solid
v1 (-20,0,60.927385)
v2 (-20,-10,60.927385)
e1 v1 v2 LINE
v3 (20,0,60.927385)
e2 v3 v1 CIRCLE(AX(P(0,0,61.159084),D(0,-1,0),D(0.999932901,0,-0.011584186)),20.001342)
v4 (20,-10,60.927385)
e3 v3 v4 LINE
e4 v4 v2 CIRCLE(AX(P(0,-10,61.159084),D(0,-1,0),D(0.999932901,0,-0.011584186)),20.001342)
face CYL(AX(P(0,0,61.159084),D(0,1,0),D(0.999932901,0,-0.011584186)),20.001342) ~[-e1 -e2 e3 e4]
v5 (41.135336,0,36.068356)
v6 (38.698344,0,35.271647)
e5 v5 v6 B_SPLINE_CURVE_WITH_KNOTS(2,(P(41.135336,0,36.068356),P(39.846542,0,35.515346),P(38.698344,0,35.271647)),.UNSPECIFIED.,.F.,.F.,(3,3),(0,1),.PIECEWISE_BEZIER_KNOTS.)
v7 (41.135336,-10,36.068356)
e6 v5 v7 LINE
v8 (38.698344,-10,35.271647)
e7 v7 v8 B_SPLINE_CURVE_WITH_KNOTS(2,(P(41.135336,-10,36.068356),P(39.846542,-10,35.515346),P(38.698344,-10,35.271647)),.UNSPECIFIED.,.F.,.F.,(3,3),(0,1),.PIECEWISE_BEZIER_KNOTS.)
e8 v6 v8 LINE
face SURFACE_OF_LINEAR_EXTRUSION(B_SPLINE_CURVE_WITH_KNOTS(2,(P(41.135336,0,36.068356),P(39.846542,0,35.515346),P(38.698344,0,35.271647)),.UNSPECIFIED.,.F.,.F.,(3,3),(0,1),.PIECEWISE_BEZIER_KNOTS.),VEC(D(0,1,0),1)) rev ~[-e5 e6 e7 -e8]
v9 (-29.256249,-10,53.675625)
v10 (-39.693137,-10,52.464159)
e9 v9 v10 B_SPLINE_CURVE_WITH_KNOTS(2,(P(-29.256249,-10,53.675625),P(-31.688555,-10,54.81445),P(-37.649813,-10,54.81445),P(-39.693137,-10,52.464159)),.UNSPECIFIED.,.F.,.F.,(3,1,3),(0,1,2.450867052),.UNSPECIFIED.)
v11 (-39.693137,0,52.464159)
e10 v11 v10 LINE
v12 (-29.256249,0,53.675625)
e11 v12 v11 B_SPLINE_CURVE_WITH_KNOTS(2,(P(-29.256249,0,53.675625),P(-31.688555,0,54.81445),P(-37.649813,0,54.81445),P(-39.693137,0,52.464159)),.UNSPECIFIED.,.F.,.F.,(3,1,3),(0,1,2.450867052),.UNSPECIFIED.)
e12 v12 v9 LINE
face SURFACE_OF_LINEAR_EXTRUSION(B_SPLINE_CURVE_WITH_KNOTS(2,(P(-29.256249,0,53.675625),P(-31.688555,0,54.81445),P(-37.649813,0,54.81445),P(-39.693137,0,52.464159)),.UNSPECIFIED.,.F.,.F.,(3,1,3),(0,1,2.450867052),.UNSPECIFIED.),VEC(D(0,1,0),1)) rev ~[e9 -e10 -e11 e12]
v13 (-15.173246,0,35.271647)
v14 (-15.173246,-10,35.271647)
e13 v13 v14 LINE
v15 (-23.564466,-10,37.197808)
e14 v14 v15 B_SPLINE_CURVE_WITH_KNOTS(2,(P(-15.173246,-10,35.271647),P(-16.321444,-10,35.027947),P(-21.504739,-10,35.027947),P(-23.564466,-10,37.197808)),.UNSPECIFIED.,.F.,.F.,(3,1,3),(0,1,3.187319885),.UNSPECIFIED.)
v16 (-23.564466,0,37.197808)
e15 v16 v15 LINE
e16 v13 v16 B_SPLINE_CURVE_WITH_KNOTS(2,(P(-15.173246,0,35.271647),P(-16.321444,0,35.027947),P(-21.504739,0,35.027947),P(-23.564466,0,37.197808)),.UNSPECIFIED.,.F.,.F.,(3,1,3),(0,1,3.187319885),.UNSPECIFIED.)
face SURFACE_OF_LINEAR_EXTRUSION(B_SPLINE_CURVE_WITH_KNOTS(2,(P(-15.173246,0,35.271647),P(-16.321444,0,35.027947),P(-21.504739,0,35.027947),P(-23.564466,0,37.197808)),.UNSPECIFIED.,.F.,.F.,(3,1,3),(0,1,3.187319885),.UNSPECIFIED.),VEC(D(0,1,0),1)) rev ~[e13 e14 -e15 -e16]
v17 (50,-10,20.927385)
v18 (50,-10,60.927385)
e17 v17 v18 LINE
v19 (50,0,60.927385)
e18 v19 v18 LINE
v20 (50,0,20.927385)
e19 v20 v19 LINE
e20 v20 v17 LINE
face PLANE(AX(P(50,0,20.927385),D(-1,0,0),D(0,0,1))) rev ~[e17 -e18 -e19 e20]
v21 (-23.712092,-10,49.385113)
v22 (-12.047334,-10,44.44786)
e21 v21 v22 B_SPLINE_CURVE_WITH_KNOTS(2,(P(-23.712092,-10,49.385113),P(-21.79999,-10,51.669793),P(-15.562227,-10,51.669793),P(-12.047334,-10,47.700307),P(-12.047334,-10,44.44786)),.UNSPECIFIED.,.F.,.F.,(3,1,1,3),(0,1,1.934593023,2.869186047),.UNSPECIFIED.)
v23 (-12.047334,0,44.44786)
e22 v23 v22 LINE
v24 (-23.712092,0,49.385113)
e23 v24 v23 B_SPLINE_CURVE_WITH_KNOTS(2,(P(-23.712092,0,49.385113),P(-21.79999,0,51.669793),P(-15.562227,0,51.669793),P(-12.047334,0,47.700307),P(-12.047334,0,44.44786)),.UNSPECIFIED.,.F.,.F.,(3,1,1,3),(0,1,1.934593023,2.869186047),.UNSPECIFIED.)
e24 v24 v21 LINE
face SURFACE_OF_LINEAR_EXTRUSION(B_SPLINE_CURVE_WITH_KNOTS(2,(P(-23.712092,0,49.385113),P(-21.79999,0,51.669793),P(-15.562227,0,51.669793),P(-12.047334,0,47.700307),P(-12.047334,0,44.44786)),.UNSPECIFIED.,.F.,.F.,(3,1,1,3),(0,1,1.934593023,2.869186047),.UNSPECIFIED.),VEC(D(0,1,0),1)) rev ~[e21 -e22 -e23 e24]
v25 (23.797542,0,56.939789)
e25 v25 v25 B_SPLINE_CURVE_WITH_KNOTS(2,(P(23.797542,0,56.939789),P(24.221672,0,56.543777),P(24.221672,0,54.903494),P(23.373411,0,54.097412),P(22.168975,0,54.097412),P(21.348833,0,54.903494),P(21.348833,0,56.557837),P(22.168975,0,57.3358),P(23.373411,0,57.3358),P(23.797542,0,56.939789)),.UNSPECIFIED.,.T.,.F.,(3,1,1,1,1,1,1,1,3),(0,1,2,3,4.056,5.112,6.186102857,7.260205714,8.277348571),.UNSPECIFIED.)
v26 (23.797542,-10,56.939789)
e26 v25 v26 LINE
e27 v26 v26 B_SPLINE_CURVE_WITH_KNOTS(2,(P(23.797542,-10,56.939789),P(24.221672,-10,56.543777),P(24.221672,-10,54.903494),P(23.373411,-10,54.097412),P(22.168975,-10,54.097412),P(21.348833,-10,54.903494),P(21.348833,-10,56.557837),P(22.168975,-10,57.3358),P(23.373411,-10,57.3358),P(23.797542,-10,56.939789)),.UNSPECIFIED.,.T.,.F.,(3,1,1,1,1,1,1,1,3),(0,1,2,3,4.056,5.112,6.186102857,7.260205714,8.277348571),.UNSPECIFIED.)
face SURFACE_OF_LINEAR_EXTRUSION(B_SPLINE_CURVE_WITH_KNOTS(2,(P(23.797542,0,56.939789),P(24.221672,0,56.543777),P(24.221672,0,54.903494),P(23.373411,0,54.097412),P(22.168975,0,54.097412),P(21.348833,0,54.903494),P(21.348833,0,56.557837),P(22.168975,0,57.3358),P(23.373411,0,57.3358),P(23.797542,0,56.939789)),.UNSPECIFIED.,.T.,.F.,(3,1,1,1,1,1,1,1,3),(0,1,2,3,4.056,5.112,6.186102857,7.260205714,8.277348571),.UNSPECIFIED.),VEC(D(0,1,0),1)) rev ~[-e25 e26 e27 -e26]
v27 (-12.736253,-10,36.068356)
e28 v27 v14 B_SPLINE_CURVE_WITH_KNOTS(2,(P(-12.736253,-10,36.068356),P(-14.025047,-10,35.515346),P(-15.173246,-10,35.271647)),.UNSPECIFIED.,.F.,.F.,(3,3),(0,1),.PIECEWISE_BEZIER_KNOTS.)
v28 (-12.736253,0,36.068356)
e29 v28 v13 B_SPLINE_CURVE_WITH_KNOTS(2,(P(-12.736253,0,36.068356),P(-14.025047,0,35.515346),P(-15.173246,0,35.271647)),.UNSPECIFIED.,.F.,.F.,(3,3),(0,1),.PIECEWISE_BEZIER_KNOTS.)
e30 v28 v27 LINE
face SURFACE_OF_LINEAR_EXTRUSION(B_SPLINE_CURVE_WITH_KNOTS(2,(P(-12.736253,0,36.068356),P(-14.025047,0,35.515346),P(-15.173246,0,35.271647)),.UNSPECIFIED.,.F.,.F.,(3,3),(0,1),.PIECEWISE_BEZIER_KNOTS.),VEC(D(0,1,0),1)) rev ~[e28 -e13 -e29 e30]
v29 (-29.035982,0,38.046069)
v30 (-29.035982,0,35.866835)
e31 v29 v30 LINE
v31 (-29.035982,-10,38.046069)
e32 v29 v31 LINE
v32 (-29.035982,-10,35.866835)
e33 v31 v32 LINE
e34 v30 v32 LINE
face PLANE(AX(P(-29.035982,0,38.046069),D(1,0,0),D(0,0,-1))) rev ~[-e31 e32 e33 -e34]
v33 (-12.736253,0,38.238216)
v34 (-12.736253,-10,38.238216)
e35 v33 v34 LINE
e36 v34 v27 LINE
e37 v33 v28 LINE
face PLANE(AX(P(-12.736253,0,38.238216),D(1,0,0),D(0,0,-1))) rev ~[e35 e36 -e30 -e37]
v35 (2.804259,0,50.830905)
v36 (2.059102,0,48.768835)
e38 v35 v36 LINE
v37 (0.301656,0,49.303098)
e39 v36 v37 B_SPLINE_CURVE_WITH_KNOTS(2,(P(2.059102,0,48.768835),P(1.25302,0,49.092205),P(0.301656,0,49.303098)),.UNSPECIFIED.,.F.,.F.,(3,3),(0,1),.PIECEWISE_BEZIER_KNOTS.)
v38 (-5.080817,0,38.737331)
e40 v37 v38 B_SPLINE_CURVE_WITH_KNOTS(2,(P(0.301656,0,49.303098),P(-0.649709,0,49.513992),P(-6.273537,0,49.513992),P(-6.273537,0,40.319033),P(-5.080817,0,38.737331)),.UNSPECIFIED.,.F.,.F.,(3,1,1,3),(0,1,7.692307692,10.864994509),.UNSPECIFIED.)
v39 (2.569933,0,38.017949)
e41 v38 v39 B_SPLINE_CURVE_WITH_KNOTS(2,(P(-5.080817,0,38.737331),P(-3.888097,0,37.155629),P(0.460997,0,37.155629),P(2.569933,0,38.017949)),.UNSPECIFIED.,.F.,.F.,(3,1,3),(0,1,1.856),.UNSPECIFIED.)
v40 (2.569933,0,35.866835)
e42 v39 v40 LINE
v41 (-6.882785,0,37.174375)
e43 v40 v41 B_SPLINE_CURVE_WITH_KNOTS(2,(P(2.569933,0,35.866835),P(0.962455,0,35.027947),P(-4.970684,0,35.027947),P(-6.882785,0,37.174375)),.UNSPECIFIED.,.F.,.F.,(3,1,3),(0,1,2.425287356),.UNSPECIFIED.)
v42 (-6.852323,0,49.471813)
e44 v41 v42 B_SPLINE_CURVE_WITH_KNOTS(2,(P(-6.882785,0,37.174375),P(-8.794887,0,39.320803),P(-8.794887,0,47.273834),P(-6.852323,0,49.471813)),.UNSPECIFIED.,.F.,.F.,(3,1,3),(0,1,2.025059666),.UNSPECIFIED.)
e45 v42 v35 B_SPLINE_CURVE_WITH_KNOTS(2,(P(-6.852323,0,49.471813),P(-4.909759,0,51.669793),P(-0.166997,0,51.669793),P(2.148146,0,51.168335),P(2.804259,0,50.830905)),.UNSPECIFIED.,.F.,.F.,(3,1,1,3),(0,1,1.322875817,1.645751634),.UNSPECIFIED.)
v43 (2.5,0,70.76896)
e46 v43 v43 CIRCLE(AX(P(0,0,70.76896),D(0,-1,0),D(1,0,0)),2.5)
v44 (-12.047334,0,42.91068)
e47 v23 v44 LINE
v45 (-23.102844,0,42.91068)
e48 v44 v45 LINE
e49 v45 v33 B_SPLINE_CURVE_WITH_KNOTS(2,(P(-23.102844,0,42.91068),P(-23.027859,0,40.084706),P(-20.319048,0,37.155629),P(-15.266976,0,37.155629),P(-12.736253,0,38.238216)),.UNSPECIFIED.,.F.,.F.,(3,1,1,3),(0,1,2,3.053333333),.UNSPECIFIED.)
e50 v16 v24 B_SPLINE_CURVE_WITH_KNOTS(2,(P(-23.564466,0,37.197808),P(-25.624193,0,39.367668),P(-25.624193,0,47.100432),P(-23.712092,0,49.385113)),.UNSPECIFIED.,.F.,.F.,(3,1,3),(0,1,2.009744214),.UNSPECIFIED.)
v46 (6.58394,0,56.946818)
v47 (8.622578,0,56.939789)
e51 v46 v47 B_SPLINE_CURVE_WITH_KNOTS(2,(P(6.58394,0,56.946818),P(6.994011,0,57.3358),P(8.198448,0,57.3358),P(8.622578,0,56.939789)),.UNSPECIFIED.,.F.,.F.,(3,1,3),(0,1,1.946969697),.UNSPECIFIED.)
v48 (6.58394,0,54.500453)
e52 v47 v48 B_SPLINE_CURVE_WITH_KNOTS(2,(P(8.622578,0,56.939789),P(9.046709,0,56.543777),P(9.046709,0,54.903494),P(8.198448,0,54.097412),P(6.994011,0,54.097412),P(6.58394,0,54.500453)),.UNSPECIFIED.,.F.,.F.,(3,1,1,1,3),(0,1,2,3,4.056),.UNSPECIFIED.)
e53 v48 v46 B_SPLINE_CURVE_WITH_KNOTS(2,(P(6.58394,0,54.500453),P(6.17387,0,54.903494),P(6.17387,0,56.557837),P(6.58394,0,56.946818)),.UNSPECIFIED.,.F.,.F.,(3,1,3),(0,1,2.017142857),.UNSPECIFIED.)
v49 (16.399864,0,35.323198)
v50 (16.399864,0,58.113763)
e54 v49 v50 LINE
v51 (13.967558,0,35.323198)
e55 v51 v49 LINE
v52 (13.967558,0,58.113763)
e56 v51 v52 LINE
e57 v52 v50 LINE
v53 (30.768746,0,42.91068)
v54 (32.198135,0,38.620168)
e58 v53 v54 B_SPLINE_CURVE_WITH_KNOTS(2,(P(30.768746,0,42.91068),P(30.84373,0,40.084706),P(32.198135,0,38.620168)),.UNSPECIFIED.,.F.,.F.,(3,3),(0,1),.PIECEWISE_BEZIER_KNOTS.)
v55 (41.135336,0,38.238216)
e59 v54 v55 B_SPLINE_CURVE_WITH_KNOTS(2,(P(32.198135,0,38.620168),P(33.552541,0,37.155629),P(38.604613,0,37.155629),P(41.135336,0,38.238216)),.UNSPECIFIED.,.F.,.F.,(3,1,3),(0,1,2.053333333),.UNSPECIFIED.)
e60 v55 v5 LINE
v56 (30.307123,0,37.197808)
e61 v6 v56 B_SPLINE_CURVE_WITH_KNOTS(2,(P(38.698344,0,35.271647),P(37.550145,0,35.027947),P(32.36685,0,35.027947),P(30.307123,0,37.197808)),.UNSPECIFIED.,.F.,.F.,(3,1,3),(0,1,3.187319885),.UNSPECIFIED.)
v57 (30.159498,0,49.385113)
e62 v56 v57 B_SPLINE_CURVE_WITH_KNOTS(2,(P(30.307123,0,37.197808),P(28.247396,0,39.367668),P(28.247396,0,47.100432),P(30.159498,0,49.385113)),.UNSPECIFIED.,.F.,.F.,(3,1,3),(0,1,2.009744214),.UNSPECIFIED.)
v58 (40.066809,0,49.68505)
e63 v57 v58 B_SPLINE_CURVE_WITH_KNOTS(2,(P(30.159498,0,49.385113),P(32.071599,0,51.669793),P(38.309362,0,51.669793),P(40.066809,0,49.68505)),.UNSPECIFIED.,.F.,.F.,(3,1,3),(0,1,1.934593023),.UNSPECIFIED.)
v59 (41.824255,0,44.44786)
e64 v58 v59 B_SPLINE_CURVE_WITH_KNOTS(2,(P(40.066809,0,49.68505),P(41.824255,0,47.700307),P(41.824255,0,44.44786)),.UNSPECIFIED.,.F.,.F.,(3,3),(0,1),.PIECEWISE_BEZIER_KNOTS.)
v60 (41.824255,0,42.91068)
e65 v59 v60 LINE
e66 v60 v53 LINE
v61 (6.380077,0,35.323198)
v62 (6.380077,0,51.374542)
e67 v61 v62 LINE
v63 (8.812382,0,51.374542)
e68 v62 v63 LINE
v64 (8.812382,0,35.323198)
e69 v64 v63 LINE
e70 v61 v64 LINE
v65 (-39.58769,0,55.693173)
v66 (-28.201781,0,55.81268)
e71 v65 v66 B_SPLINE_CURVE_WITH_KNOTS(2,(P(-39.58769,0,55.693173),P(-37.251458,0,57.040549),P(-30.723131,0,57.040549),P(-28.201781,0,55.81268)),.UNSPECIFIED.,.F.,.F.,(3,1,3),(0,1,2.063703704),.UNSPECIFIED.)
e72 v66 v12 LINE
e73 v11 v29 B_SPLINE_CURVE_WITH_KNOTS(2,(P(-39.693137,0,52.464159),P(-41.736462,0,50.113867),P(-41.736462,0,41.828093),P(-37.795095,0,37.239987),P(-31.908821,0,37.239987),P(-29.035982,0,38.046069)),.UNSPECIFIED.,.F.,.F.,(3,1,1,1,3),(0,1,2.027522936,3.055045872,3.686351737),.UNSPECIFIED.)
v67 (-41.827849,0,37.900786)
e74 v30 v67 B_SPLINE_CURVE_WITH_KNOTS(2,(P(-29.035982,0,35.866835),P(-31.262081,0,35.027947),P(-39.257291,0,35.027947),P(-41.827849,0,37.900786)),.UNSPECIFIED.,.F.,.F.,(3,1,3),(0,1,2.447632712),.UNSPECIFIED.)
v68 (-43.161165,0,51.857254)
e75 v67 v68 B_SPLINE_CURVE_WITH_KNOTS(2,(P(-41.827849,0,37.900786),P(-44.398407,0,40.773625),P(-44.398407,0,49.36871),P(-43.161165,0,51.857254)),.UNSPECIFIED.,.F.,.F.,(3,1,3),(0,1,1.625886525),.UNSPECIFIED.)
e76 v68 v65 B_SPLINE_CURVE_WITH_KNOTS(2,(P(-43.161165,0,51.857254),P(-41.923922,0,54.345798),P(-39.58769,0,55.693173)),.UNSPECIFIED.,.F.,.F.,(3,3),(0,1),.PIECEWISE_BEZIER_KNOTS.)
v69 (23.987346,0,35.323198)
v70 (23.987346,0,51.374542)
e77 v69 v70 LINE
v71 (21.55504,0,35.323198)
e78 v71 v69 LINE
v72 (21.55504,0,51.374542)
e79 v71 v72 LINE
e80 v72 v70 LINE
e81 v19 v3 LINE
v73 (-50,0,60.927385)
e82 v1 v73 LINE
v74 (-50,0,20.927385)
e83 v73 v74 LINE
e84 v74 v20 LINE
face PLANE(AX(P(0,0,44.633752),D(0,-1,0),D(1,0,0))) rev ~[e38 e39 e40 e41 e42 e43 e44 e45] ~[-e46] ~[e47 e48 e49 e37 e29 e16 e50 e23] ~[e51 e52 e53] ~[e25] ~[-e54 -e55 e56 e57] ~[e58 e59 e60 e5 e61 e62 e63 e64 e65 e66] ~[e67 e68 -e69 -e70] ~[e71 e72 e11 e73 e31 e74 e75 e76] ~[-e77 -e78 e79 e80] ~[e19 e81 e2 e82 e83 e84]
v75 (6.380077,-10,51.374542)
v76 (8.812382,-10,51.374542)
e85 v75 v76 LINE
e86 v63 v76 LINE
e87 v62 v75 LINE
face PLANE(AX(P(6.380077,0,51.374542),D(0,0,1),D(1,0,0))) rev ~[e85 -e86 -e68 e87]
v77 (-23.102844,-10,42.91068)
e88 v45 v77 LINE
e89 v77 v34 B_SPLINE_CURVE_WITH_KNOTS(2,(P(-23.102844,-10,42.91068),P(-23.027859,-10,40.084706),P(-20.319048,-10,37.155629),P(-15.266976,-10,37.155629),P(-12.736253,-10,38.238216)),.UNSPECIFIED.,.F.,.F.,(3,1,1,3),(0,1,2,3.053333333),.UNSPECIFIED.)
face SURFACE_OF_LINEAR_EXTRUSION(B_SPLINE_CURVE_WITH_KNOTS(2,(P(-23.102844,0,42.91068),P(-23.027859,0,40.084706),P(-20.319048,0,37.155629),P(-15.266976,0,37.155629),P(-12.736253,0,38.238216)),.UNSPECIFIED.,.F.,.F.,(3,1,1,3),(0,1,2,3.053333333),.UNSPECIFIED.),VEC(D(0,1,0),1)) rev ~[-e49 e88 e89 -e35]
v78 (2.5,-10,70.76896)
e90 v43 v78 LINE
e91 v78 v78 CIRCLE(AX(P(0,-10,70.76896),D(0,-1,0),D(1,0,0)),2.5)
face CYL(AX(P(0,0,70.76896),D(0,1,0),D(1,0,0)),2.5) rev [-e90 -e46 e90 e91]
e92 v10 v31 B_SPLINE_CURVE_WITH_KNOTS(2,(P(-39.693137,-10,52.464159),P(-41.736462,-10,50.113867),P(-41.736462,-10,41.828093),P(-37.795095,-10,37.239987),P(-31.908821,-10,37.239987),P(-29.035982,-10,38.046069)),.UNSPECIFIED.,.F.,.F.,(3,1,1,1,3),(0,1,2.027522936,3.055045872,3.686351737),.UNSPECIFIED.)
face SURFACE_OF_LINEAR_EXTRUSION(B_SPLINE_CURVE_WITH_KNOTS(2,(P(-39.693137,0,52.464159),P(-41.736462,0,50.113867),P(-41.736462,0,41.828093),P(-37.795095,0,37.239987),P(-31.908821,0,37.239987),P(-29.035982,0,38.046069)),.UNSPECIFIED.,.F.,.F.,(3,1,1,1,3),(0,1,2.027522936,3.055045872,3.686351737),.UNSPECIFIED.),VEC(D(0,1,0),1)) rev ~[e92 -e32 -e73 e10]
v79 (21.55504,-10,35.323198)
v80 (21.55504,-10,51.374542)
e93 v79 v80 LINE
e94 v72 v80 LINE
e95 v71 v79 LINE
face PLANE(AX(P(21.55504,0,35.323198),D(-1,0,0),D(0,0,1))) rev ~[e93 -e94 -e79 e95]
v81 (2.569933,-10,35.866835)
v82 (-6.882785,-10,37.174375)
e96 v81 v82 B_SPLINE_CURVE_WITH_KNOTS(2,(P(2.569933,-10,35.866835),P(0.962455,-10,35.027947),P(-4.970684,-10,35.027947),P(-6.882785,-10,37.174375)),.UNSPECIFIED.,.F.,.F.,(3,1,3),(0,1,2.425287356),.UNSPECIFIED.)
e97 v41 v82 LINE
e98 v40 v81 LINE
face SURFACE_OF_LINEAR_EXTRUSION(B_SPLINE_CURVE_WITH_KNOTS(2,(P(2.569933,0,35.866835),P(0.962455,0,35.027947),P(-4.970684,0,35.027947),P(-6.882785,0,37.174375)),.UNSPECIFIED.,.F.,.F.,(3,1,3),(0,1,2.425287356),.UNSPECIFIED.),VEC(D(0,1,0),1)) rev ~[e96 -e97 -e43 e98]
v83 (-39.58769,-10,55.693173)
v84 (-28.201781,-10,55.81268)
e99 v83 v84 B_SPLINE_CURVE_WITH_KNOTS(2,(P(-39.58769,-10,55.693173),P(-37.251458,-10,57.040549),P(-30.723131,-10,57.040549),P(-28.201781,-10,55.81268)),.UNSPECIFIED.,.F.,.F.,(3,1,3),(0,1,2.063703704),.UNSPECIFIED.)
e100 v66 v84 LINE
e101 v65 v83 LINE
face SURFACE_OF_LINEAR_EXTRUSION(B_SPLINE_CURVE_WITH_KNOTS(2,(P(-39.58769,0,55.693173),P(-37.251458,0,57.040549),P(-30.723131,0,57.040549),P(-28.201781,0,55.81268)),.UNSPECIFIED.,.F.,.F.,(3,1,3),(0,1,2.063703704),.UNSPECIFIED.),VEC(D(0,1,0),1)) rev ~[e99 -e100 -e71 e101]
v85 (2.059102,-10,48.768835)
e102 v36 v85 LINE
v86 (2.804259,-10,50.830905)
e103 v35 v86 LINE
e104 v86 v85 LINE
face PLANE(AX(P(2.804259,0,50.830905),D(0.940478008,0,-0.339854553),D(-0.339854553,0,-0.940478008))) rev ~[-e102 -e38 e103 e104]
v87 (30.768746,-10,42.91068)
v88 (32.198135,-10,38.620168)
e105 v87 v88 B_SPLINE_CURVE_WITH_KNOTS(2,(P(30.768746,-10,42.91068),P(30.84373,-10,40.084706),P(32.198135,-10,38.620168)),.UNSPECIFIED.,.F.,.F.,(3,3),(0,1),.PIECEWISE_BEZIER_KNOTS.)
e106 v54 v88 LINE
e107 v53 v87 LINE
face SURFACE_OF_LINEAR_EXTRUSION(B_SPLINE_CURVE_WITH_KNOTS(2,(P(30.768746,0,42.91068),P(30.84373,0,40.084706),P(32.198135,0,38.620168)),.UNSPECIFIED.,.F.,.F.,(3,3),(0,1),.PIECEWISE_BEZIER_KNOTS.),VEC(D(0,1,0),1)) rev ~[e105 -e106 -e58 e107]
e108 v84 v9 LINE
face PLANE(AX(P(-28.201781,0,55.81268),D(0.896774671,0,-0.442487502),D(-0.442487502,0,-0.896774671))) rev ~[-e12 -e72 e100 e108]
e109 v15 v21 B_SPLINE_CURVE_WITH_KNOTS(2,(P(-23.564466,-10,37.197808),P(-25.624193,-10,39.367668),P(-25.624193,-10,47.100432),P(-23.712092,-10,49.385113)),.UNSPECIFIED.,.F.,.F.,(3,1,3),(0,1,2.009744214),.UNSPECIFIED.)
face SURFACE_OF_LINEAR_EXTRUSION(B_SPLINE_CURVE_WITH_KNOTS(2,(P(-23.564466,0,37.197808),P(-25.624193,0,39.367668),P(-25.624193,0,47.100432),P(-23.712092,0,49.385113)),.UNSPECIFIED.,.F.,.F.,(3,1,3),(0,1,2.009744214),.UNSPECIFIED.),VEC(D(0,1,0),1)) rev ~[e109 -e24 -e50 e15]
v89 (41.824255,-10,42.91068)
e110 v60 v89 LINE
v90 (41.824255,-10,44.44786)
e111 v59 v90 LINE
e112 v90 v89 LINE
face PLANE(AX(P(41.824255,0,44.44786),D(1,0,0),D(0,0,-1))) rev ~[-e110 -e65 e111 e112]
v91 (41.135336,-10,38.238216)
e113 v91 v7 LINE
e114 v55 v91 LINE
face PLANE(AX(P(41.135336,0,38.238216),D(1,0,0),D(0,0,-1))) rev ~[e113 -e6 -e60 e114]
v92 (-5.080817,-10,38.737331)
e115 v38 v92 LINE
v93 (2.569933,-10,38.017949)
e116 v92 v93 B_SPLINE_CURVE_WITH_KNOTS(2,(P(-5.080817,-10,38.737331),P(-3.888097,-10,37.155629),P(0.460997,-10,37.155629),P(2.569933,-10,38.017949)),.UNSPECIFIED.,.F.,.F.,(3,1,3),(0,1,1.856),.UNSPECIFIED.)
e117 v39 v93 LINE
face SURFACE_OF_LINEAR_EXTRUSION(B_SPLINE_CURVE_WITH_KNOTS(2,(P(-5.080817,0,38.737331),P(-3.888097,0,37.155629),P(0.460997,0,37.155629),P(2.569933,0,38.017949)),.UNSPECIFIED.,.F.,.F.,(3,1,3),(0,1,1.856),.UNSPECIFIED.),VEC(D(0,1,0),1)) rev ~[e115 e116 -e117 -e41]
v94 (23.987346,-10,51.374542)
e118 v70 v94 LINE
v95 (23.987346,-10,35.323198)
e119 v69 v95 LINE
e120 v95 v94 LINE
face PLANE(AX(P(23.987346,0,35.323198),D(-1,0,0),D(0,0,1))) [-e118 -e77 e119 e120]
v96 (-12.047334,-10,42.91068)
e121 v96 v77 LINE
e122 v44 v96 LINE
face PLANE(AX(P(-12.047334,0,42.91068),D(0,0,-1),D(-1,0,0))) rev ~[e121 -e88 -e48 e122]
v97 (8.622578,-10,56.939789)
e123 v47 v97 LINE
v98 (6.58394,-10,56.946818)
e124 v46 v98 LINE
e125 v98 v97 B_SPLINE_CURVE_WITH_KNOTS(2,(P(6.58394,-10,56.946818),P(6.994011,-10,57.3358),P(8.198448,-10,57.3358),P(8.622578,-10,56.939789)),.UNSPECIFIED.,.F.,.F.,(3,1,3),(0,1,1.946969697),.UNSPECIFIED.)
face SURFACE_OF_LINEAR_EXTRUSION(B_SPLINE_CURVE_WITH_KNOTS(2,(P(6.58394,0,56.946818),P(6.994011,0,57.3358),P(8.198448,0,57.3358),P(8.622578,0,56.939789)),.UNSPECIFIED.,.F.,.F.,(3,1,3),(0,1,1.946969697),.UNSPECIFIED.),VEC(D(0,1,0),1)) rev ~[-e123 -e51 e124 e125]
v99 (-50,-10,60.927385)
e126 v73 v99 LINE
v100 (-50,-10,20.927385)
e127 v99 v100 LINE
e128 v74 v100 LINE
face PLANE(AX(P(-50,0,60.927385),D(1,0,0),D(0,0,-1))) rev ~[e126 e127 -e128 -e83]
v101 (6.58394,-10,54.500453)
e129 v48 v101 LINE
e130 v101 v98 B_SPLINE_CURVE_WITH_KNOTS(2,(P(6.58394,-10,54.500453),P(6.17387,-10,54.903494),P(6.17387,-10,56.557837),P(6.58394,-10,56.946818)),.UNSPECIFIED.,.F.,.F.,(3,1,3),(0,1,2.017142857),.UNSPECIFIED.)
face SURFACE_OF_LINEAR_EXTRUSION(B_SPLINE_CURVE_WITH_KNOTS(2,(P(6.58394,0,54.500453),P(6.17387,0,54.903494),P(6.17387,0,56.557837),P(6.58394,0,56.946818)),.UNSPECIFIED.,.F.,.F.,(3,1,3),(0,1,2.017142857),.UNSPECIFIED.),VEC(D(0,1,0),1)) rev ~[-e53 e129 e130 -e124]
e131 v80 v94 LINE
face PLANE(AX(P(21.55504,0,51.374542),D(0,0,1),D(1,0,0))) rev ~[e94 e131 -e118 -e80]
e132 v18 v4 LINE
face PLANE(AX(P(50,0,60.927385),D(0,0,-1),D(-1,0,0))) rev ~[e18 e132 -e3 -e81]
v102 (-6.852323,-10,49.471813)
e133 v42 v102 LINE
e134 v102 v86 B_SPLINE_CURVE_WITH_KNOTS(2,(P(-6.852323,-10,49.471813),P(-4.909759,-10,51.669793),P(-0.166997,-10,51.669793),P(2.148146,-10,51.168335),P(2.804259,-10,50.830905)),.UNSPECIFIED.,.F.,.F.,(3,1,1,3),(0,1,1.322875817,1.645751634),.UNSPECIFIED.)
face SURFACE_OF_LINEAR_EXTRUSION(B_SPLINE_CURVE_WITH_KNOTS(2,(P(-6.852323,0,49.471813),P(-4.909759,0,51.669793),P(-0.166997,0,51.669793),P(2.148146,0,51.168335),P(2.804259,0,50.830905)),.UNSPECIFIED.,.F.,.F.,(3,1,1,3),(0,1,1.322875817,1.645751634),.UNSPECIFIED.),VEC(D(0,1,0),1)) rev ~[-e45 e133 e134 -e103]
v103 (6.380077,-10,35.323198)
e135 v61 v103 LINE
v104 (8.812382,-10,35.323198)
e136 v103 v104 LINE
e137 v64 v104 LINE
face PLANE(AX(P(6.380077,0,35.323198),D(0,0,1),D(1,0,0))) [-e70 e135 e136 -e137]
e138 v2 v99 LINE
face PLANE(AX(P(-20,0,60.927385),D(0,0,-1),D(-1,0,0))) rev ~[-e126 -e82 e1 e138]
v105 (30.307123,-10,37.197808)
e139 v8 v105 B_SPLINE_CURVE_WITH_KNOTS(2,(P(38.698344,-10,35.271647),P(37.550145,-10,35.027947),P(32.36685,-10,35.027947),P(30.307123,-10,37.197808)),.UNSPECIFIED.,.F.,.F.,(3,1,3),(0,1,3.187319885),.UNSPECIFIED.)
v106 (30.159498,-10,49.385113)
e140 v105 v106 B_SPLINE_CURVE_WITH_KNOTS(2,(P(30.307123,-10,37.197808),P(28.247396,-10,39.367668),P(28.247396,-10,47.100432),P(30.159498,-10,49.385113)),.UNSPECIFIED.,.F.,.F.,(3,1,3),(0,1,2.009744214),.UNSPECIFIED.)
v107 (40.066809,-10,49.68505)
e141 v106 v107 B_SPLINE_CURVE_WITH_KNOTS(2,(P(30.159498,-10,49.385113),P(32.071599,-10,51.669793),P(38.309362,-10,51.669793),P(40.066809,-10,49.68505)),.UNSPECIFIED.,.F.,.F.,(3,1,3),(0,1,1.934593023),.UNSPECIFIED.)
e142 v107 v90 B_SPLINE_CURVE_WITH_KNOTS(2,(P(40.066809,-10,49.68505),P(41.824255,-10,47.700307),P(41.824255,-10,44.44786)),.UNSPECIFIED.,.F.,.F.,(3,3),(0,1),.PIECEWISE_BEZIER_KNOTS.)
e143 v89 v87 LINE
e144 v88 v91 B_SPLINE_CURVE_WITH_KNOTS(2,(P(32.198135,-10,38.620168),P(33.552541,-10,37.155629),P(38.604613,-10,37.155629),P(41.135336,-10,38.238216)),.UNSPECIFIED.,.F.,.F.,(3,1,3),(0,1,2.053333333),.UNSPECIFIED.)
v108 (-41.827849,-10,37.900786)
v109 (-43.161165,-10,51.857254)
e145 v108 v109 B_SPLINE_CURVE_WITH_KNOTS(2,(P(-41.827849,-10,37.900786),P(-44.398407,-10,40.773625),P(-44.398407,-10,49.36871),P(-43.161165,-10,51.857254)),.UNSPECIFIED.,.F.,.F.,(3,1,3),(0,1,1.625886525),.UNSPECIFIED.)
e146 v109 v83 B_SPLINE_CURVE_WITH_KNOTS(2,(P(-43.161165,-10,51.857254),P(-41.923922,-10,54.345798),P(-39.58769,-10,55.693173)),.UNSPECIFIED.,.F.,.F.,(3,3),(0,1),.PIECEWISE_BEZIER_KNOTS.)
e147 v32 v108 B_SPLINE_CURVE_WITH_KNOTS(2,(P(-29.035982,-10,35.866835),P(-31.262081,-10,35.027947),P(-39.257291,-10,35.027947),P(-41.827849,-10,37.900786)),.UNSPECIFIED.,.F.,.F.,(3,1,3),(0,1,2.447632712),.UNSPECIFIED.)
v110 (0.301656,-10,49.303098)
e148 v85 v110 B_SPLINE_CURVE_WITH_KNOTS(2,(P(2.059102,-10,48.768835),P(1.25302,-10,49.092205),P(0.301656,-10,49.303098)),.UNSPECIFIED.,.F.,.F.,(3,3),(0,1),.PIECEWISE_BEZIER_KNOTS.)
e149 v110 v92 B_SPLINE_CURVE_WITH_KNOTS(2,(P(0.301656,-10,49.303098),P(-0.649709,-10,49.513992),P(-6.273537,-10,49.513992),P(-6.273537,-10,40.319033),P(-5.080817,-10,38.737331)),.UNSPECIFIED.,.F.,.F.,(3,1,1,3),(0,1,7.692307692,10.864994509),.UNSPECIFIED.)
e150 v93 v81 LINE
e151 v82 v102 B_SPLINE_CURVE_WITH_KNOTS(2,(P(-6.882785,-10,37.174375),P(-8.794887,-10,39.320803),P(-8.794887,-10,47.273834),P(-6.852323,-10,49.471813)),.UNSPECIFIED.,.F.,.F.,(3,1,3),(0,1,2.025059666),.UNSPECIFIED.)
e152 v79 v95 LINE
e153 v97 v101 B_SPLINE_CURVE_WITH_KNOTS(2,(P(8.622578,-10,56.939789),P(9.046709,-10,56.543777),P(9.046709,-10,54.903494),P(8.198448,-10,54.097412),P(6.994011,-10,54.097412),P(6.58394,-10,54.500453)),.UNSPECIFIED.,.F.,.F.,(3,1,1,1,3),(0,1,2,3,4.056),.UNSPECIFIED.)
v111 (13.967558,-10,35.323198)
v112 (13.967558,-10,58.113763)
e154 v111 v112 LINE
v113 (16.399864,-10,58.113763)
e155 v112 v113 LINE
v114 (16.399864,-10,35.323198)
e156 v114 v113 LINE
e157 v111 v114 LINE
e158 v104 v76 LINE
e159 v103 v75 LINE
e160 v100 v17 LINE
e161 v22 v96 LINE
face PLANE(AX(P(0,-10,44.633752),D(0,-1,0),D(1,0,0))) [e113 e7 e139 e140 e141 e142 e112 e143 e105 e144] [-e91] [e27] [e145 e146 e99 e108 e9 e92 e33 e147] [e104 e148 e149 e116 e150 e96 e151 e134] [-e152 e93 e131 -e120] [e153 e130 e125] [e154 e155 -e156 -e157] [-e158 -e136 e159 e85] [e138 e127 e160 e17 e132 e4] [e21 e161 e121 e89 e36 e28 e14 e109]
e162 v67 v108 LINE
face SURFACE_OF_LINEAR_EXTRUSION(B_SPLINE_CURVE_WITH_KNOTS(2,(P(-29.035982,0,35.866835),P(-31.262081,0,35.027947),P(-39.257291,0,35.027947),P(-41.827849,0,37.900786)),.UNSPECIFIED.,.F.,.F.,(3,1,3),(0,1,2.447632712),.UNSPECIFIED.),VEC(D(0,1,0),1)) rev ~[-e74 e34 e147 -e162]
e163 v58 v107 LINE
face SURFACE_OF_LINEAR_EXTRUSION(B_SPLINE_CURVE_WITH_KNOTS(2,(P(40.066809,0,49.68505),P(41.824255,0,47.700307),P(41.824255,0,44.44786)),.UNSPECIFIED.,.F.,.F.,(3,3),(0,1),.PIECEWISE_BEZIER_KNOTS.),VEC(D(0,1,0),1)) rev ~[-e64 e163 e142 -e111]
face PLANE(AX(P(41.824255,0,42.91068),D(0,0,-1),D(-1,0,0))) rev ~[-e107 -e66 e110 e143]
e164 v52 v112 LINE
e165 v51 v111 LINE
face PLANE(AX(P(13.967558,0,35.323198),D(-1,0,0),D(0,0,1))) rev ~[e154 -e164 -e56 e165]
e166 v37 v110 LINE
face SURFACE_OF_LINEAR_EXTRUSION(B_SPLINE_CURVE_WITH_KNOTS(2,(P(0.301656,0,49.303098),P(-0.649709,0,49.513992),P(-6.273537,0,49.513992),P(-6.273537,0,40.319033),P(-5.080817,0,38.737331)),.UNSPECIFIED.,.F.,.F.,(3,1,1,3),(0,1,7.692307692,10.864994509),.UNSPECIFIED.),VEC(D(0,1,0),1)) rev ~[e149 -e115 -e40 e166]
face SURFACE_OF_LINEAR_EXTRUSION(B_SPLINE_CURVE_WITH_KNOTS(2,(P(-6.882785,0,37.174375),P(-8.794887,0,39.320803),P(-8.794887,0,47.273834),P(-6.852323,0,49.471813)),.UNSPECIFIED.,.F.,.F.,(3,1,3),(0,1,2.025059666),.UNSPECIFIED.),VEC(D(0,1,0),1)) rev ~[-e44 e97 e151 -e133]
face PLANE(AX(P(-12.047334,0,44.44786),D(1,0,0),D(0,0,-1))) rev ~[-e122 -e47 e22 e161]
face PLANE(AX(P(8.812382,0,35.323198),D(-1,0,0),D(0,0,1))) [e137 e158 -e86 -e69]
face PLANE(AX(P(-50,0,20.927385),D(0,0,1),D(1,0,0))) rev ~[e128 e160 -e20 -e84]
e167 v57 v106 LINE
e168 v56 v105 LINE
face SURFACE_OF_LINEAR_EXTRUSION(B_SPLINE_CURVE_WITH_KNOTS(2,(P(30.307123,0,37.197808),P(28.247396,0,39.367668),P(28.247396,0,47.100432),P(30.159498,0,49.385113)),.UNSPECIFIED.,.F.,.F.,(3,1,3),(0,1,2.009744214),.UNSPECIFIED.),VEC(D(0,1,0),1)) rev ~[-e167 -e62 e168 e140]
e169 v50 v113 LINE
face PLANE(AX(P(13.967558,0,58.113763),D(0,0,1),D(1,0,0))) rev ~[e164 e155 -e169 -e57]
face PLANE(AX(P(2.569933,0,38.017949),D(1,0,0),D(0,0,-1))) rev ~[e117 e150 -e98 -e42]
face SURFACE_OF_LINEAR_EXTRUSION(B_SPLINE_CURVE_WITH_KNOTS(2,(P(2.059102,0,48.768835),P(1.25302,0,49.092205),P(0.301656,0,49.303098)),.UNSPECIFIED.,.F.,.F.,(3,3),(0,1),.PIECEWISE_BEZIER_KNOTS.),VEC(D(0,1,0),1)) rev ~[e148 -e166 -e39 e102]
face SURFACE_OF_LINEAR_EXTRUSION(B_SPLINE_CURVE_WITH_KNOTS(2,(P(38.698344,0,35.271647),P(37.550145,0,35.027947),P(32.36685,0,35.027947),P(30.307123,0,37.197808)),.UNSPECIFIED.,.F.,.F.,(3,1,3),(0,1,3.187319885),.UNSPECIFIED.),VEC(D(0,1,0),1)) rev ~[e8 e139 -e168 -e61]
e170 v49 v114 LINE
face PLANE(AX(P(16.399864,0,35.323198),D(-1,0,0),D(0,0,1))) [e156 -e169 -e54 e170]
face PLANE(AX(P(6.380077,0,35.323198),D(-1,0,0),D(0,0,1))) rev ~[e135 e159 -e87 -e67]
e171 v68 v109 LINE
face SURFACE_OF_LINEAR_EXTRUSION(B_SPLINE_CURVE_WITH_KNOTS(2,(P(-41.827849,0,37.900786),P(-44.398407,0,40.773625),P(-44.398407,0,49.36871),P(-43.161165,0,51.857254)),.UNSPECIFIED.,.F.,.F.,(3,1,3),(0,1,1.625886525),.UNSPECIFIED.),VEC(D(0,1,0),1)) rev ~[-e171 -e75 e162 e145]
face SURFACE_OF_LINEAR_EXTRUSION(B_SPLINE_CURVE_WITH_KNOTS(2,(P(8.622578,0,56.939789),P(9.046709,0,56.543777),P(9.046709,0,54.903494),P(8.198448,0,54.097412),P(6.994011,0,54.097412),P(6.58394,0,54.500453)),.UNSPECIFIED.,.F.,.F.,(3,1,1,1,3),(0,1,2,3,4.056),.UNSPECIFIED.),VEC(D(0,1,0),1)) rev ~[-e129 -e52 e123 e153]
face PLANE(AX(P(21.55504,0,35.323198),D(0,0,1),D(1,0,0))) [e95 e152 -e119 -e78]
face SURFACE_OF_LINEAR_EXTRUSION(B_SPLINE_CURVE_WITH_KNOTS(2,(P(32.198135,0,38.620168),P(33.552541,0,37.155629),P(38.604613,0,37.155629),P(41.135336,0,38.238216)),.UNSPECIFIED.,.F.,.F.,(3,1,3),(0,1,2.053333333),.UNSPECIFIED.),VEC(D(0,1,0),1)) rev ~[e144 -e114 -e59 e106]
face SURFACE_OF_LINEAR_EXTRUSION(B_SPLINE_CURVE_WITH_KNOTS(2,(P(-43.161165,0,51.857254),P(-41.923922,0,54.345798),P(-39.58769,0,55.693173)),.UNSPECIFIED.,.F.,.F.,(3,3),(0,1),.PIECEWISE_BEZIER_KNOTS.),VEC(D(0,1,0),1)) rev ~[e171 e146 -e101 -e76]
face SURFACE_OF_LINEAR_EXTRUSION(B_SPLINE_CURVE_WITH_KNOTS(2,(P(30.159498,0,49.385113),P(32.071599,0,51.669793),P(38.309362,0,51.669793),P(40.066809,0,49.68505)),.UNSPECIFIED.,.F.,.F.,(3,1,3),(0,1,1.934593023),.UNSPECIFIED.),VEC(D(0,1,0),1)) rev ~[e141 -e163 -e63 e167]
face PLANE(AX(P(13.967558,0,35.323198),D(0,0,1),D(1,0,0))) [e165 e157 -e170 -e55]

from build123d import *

# Parameters (mm, degrees)
F0_W     = 2.4323057696
F0_H     = 16.0513434701
F0_H_2   = 22.7905644657
F0_R     = 2.5
F1_DEPTH = 10


with BuildPart() as f1:
    # F0 (on Front) → F1 (new body)
    with BuildSketch(Plane.XZ):
        with BuildLine():
            Line((-50, 60.9273851891), (-50, 20.9273851891))
            Line((-50, 20.9273851891), (50, 20.9273851891))
            Line((50, 20.9273851891), (50, 60.9273851891))
            Line((50, 60.9273851891), (20, 60.9273851891))
            ThreePointArc((20, 60.9273851891), (0, 81.1604265208), (-20, 60.9273851891))
            Line((-20, 60.9273851891), (-50, 60.9273851891))
        make_face()
        with BuildLine():
            add(Edge.make_bspline(
                [(-29.2562490754, 53.6756249348), (-31.688554845, 54.8144501796), (-34.1208606146, 54.8144501796)],
                knots=[0, 0, 0, 1, 1, 1], degree=2))
            add(Edge.make_bspline(
                [(-34.1208606146, 54.8144501796), (-37.6498129162, 54.8144501796), (-39.6931372237, 52.4641585736)],
                knots=[0, 0, 0, 1, 1, 1], degree=2))
            add(Edge.make_bspline(
                [(-39.6931372237, 52.4641585736), (-41.7364615311, 50.1138669677), (-41.7364615311, 46.0272183529)],
                knots=[0, 0, 0, 1, 1, 1], degree=2))
            add(Edge.make_bspline(
                [(-41.7364615311, 46.0272183529), (-41.7364615311, 41.8280931706), (-39.7657783401, 39.5340398484)],
                knots=[0, 0, 0, 1, 1, 1], degree=2))
            add(Edge.make_bspline(
                [(-39.7657783401, 39.5340398484), (-37.7950951491, 37.2399865262), (-34.1489797565, 37.2399865262)],
                knots=[0, 0, 0, 1, 1, 1], degree=2))
            add(Edge.make_bspline(
                [(-34.1489797565, 37.2399865262), (-31.9088214561, 37.2399865262), (-29.0359824643, 38.0460685924)],
                knots=[0, 0, 0, 1, 1, 1], degree=2))
            Line((-29.0359824643, 38.0460685924), (-29.0359824643, 35.8668350994))
            add(Edge.make_bspline(
                [(-29.0359824643, 35.8668350994), (-31.2620811937, 35.0279473676), (-34.5285881714, 35.0279473676)],
                knots=[0, 0, 0, 1, 1, 1], degree=2))
            add(Edge.make_bspline(
                [(-34.5285881714, 35.0279473676), (-39.2572905251, 35.0279473676), (-41.8278487421, 37.9007863595)],
                knots=[0, 0, 0, 1, 1, 1], degree=2))
            add(Edge.make_bspline(
                [(-41.8278487421, 37.9007863595), (-44.3984069592, 40.7736253514), (-44.3984069592, 46.0600240183)],
                knots=[0, 0, 0, 1, 1, 1], degree=2))
            add(Edge.make_bspline(
                [(-44.3984069592, 46.0600240183), (-44.3984069592, 49.3687097088), (-43.161164718, 51.8572537621)],
                knots=[0, 0, 0, 1, 1, 1], degree=2))
            add(Edge.make_bspline(
                [(-43.161164718, 51.8572537621), (-41.9239224768, 54.3457978155), (-39.5876904418, 55.6931733622)],
                knots=[0, 0, 0, 1, 1, 1], degree=2))
            add(Edge.make_bspline(
                [(-39.5876904418, 55.6931733622), (-37.2514584068, 57.040548909), (-34.0880549492, 57.040548909)],
                knots=[0, 0, 0, 1, 1, 1], degree=2))
            add(Edge.make_bspline(
                [(-34.0880549492, 57.040548909), (-30.723130975, 57.040548909), (-28.2017812562, 55.8126797151)],
                knots=[0, 0, 0, 1, 1, 1], degree=2))
            Line((-28.2017812562, 55.8126797151), (-29.2562490754, 53.6756249348))
        make_face(mode=Mode.SUBTRACT)
        with BuildLine():
            add(Edge.make_bspline(
                [(-15.1732455345, 35.271646597), (-16.3214438265, 35.0279473676), (-17.9476675299, 35.0279473676)],
                knots=[0, 0, 0, 1, 1, 1], degree=2))
            add(Edge.make_bspline(
                [(-17.9476675299, 35.0279473676), (-21.5047389733, 35.0279473676), (-23.5644661135, 37.1978078134)],
                knots=[0, 0, 0, 1, 1, 1], degree=2))
            add(Edge.make_bspline(
                [(-23.5644661135, 37.1978078134), (-25.6241932537, 39.3676682591), (-25.6241932537, 43.2153041683)],
                knots=[0, 0, 0, 1, 1, 1], degree=2))
            add(Edge.make_bspline(
                [(-25.6241932537, 43.2153041683), (-25.6241932537, 47.1004322666), (-23.7120916082, 49.3851125416)],
                knots=[0, 0, 0, 1, 1, 1], degree=2))
            add(Edge.make_bspline(
                [(-23.7120916082, 49.3851125416), (-21.7999899627, 51.6697928165), (-18.5756616978, 51.6697928165)],
                knots=[0, 0, 0, 1, 1, 1], degree=2))
            add(Edge.make_bspline(
                [(-18.5756616978, 51.6697928165), (-15.5622269966, 51.6697928165), (-13.8047806313, 49.6850500546)],
                knots=[0, 0, 0, 1, 1, 1], degree=2))
            add(Edge.make_bspline(
                [(-13.8047806313, 49.6850500546), (-12.047334266, 47.7003072927), (-12.047334266, 44.4478598859)],
                knots=[0, 0, 0, 1, 1, 1], degree=2))
            Line((-12.047334266, 44.4478598859), (-12.047334266, 42.9106801317))
            Line((-12.047334266, 42.9106801317), (-23.1028435349, 42.9106801317))
            add(Edge.make_bspline(
                [(-23.1028435349, 42.9106801317), (-23.0278591566, 40.0847063762), (-21.6734538244, 38.6201677384)],
                knots=[0, 0, 0, 1, 1, 1], degree=2))
            add(Edge.make_bspline(
                [(-21.6734538244, 38.6201677384), (-20.3190484922, 37.1556291006), (-17.8586235807, 37.1556291006)],
                knots=[0, 0, 0, 1, 1, 1], degree=2))
            add(Edge.make_bspline(
                [(-17.8586235807, 37.1556291006), (-15.2669760073, 37.1556291006), (-12.7362532412, 38.2382160617)],
                knots=[0, 0, 0, 1, 1, 1], degree=2))
            Line((-12.7362532412, 38.2382160617), (-12.7362532412, 36.0683556159))
            add(Edge.make_bspline(
                [(-12.7362532412, 36.0683556159), (-14.0250472424, 35.5153458263), (-15.1732455345, 35.271646597)],
                knots=[0, 0, 0, 1, 1, 1], degree=2))
        make_face(mode=Mode.SUBTRACT)
        with BuildLine():
            add(Edge.make_bspline(
                [(2.56993297, 35.8668350994), (0.9624553612, 35.0279473676), (-1.4839099794, 35.0279473676)],
                knots=[0, 0, 0, 1, 1, 1], degree=2))
            add(Edge.make_bspline(
                [(-1.4839099794, 35.0279473676), (-4.9706835682, 35.0279473676), (-6.8827852137, 37.1743751952)],
                knots=[0, 0, 0, 1, 1, 1], degree=2))
            add(Edge.make_bspline(
                [(-6.8827852137, 37.1743751952), (-8.7948868592, 39.3208030227), (-8.7948868592, 43.2481098338)],
                knots=[0, 0, 0, 1, 1, 1], degree=2))
            add(Edge.make_bspline(
                [(-8.7948868592, 43.2481098338), (-8.7948868592, 47.2738336413), (-6.85232281, 49.4718132289)],
                knots=[0, 0, 0, 1, 1, 1], degree=2))
            add(Edge.make_bspline(
                [(-6.85232281, 49.4718132289), (-4.9097587609, 51.6697928165), (-1.3245681756, 51.6697928165)],
                knots=[0, 0, 0, 1, 1, 1], degree=2))
            add(Edge.make_bspline(
                [(-1.3245681756, 51.6697928165), (-0.1669968363, 51.6697928165), (0.990574503, 51.4190638017)],
                knots=[0, 0, 0, 1, 1, 1], degree=2))
            add(Edge.make_bspline(
                [(0.990574503, 51.4190638017), (2.1481458423, 51.1683347869), (2.8042591521, 50.8309050848)],
                knots=[0, 0, 0, 1, 1, 1], degree=2))
            Line((2.8042591521, 50.8309050848), (2.0591018932, 48.7688346828))
            add(Edge.make_bspline(
                [(2.0591018932, 48.7688346828), (1.2530198269, 49.092204814), (0.3016555278, 49.3030983779)],
                knots=[0, 0, 0, 1, 1, 1], degree=2))
            add(Edge.make_bspline(
                [(0.3016555278, 49.3030983779), (-0.6497087713, 49.5139919417), (-1.3808064593, 49.5139919417)],
                knots=[0, 0, 0, 1, 1, 1], degree=2))
            add(Edge.make_bspline(
                [(-1.3808064593, 49.5139919417), (-6.2735371404, 49.5139919417), (-6.2735371404, 43.2762289756)],
                knots=[0, 0, 0, 1, 1, 1], degree=2))
            add(Edge.make_bspline(
                [(-6.2735371404, 43.2762289756), (-6.2735371404, 40.3190325582), (-5.0808168738, 38.7373308294)],
                knots=[0, 0, 0, 1, 1, 1], degree=2))
            add(Edge.make_bspline(
                [(-5.0808168738, 38.7373308294), (-3.8880966071, 37.1556291006), (-1.5448347867, 37.1556291006)],
                knots=[0, 0, 0, 1, 1, 1], degree=2))
            add(Edge.make_bspline(
                [(-1.5448347867, 37.1556291006), (0.4609973316, 37.1556291006), (2.56993297, 38.0179494505)],
                knots=[0, 0, 0, 1, 1, 1], degree=2))
            Line((2.56993297, 38.0179494505), (2.56993297, 35.8668350994))
        make_face(mode=Mode.SUBTRACT)
        with Locations((7.5962295749, 43.3488700921)):
            Rectangle(F0_W, F0_H, mode=Mode.SUBTRACT)
        with Locations((22.7711931242, 43.3488700921)):
            Rectangle(F0_W, F0_H, mode=Mode.SUBTRACT)
        with Locations((15.1837113495, 46.7184805899)):
            Rectangle(F0_W, F0_H_2, mode=Mode.SUBTRACT)
        with BuildLine():
            add(Edge.make_bspline(
                [(38.6983437178, 35.271646597), (37.5501454258, 35.0279473676), (35.9239217224, 35.0279473676)],
                knots=[0, 0, 0, 1, 1, 1], degree=2))
            add(Edge.make_bspline(
                [(35.9239217224, 35.0279473676), (32.3668502789, 35.0279473676), (30.3071231387, 37.1978078134)],
                knots=[0, 0, 0, 1, 1, 1], degree=2))
            add(Edge.make_bspline(
                [(30.3071231387, 37.1978078134), (28.2473959986, 39.3676682591), (28.2473959986, 43.2153041683)],
                knots=[0, 0, 0, 1, 1, 1], degree=2))
            add(Edge.make_bspline(
                [(28.2473959986, 43.2153041683), (28.2473959986, 47.1004322666), (30.1594976441, 49.3851125416)],
                knots=[0, 0, 0, 1, 1, 1], degree=2))
            add(Edge.make_bspline(
                [(30.1594976441, 49.3851125416), (32.0715992895, 51.6697928165), (35.2959275545, 51.6697928165)],
                knots=[0, 0, 0, 1, 1, 1], degree=2))
            add(Edge.make_bspline(
                [(35.2959275545, 51.6697928165), (38.3093622556, 51.6697928165), (40.0668086209, 49.6850500546)],
                knots=[0, 0, 0, 1, 1, 1], degree=2))
            add(Edge.make_bspline(
                [(40.0668086209, 49.6850500546), (41.8242549863, 47.7003072927), (41.8242549863, 44.4478598859)],
                knots=[0, 0, 0, 1, 1, 1], degree=2))
            Line((41.8242549863, 44.4478598859), (41.8242549863, 42.9106801317))
            Line((41.8242549863, 42.9106801317), (30.7687457174, 42.9106801317))
            add(Edge.make_bspline(
                [(30.7687457174, 42.9106801317), (30.8437300956, 40.0847063762), (32.1981354278, 38.6201677384)],
                knots=[0, 0, 0, 1, 1, 1], degree=2))
            add(Edge.make_bspline(
                [(32.1981354278, 38.6201677384), (33.5525407601, 37.1556291006), (36.0129656715, 37.1556291006)],
                knots=[0, 0, 0, 1, 1, 1], degree=2))
            add(Edge.make_bspline(
                [(36.0129656715, 37.1556291006), (38.604613245, 37.1556291006), (41.1353360111, 38.2382160617)],
                knots=[0, 0, 0, 1, 1, 1], degree=2))
            Line((41.1353360111, 38.2382160617), (41.1353360111, 36.0683556159))
            add(Edge.make_bspline(
                [(41.1353360111, 36.0683556159), (39.8465420098, 35.5153458263), (38.6983437178, 35.271646597)],
                knots=[0, 0, 0, 1, 1, 1], degree=2))
        make_face(mode=Mode.SUBTRACT)
        with BuildLine():
            add(Edge.make_bspline(
                [(6.5839404685, 54.5004530956), (6.1738696499, 54.9034941287), (6.1738696499, 55.7236357659)],
                knots=[0, 0, 0, 1, 1, 1], degree=2))
            add(Edge.make_bspline(
                [(6.1738696499, 55.7236357659), (6.1738696499, 56.557836974), (6.5839404685, 56.9468184362)],
                knots=[0, 0, 0, 1, 1, 1], degree=2))
            add(Edge.make_bspline(
                [(6.5839404685, 56.9468184362), (6.994011287, 57.3357998984), (7.6126324076, 57.3357998984)],
                knots=[0, 0, 0, 1, 1, 1], degree=2))
            add(Edge.make_bspline(
                [(7.6126324076, 57.3357998984), (8.1984478628, 57.3357998984), (8.6225782523, 56.9397886507)],
                knots=[0, 0, 0, 1, 1, 1], degree=2))
            add(Edge.make_bspline(
                [(8.6225782523, 56.9397886507), (9.0467086418, 56.5437774031), (9.0467086418, 55.7236357659)],
                knots=[0, 0, 0, 1, 1, 1], degree=2))
            add(Edge.make_bspline(
                [(9.0467086418, 55.7236357659), (9.0467086418, 54.9034941287), (8.6225782523, 54.5004530956)],
                knots=[0, 0, 0, 1, 1, 1], degree=2))
            add(Edge.make_bspline(
                [(8.6225782523, 54.5004530956), (8.1984478628, 54.0974120625), (7.6126324076, 54.0974120625)],
                knots=[0, 0, 0, 1, 1, 1], degree=2))
            add(Edge.make_bspline(
                [(7.6126324076, 54.0974120625), (6.994011287, 54.0974120625), (6.5839404685, 54.5004530956)],
                knots=[0, 0, 0, 1, 1, 1], degree=2))
        make_face(mode=Mode.SUBTRACT)
        with BuildLine():
            add(Edge.make_bspline(
                [(21.7589040177, 54.5004530956), (21.3488331991, 54.9034941287), (21.3488331991, 55.7236357659)],
                knots=[0, 0, 0, 1, 1, 1], degree=2))
            add(Edge.make_bspline(
                [(21.3488331991, 55.7236357659), (21.3488331991, 56.557836974), (21.7589040177, 56.9468184362)],
                knots=[0, 0, 0, 1, 1, 1], degree=2))
            add(Edge.make_bspline(
                [(21.7589040177, 56.9468184362), (22.1689748363, 57.3357998984), (22.7875959569, 57.3357998984)],
                knots=[0, 0, 0, 1, 1, 1], degree=2))
            add(Edge.make_bspline(
                [(22.7875959569, 57.3357998984), (23.373411412, 57.3357998984), (23.7975418015, 56.9397886507)],
                knots=[0, 0, 0, 1, 1, 1], degree=2))
            add(Edge.make_bspline(
                [(23.7975418015, 56.9397886507), (24.221672191, 56.5437774031), (24.221672191, 55.7236357659)],
                knots=[0, 0, 0, 1, 1, 1], degree=2))
            add(Edge.make_bspline(
                [(24.221672191, 55.7236357659), (24.221672191, 54.9034941287), (23.7975418015, 54.5004530956)],
                knots=[0, 0, 0, 1, 1, 1], degree=2))
            add(Edge.make_bspline(
                [(23.7975418015, 54.5004530956), (23.373411412, 54.0974120625), (22.7875959569, 54.0974120625)],
                knots=[0, 0, 0, 1, 1, 1], degree=2))
            add(Edge.make_bspline(
                [(22.7875959569, 54.0974120625), (22.1689748363, 54.0974120625), (21.7589040177, 54.5004530956)],
                knots=[0, 0, 0, 1, 1, 1], degree=2))
        make_face(mode=Mode.SUBTRACT)
        with Locations((0, 70.7689598203)):
            Circle(F0_R, mode=Mode.SUBTRACT)
    extrude(amount=F1_DEPTH)


solid = f1.part
